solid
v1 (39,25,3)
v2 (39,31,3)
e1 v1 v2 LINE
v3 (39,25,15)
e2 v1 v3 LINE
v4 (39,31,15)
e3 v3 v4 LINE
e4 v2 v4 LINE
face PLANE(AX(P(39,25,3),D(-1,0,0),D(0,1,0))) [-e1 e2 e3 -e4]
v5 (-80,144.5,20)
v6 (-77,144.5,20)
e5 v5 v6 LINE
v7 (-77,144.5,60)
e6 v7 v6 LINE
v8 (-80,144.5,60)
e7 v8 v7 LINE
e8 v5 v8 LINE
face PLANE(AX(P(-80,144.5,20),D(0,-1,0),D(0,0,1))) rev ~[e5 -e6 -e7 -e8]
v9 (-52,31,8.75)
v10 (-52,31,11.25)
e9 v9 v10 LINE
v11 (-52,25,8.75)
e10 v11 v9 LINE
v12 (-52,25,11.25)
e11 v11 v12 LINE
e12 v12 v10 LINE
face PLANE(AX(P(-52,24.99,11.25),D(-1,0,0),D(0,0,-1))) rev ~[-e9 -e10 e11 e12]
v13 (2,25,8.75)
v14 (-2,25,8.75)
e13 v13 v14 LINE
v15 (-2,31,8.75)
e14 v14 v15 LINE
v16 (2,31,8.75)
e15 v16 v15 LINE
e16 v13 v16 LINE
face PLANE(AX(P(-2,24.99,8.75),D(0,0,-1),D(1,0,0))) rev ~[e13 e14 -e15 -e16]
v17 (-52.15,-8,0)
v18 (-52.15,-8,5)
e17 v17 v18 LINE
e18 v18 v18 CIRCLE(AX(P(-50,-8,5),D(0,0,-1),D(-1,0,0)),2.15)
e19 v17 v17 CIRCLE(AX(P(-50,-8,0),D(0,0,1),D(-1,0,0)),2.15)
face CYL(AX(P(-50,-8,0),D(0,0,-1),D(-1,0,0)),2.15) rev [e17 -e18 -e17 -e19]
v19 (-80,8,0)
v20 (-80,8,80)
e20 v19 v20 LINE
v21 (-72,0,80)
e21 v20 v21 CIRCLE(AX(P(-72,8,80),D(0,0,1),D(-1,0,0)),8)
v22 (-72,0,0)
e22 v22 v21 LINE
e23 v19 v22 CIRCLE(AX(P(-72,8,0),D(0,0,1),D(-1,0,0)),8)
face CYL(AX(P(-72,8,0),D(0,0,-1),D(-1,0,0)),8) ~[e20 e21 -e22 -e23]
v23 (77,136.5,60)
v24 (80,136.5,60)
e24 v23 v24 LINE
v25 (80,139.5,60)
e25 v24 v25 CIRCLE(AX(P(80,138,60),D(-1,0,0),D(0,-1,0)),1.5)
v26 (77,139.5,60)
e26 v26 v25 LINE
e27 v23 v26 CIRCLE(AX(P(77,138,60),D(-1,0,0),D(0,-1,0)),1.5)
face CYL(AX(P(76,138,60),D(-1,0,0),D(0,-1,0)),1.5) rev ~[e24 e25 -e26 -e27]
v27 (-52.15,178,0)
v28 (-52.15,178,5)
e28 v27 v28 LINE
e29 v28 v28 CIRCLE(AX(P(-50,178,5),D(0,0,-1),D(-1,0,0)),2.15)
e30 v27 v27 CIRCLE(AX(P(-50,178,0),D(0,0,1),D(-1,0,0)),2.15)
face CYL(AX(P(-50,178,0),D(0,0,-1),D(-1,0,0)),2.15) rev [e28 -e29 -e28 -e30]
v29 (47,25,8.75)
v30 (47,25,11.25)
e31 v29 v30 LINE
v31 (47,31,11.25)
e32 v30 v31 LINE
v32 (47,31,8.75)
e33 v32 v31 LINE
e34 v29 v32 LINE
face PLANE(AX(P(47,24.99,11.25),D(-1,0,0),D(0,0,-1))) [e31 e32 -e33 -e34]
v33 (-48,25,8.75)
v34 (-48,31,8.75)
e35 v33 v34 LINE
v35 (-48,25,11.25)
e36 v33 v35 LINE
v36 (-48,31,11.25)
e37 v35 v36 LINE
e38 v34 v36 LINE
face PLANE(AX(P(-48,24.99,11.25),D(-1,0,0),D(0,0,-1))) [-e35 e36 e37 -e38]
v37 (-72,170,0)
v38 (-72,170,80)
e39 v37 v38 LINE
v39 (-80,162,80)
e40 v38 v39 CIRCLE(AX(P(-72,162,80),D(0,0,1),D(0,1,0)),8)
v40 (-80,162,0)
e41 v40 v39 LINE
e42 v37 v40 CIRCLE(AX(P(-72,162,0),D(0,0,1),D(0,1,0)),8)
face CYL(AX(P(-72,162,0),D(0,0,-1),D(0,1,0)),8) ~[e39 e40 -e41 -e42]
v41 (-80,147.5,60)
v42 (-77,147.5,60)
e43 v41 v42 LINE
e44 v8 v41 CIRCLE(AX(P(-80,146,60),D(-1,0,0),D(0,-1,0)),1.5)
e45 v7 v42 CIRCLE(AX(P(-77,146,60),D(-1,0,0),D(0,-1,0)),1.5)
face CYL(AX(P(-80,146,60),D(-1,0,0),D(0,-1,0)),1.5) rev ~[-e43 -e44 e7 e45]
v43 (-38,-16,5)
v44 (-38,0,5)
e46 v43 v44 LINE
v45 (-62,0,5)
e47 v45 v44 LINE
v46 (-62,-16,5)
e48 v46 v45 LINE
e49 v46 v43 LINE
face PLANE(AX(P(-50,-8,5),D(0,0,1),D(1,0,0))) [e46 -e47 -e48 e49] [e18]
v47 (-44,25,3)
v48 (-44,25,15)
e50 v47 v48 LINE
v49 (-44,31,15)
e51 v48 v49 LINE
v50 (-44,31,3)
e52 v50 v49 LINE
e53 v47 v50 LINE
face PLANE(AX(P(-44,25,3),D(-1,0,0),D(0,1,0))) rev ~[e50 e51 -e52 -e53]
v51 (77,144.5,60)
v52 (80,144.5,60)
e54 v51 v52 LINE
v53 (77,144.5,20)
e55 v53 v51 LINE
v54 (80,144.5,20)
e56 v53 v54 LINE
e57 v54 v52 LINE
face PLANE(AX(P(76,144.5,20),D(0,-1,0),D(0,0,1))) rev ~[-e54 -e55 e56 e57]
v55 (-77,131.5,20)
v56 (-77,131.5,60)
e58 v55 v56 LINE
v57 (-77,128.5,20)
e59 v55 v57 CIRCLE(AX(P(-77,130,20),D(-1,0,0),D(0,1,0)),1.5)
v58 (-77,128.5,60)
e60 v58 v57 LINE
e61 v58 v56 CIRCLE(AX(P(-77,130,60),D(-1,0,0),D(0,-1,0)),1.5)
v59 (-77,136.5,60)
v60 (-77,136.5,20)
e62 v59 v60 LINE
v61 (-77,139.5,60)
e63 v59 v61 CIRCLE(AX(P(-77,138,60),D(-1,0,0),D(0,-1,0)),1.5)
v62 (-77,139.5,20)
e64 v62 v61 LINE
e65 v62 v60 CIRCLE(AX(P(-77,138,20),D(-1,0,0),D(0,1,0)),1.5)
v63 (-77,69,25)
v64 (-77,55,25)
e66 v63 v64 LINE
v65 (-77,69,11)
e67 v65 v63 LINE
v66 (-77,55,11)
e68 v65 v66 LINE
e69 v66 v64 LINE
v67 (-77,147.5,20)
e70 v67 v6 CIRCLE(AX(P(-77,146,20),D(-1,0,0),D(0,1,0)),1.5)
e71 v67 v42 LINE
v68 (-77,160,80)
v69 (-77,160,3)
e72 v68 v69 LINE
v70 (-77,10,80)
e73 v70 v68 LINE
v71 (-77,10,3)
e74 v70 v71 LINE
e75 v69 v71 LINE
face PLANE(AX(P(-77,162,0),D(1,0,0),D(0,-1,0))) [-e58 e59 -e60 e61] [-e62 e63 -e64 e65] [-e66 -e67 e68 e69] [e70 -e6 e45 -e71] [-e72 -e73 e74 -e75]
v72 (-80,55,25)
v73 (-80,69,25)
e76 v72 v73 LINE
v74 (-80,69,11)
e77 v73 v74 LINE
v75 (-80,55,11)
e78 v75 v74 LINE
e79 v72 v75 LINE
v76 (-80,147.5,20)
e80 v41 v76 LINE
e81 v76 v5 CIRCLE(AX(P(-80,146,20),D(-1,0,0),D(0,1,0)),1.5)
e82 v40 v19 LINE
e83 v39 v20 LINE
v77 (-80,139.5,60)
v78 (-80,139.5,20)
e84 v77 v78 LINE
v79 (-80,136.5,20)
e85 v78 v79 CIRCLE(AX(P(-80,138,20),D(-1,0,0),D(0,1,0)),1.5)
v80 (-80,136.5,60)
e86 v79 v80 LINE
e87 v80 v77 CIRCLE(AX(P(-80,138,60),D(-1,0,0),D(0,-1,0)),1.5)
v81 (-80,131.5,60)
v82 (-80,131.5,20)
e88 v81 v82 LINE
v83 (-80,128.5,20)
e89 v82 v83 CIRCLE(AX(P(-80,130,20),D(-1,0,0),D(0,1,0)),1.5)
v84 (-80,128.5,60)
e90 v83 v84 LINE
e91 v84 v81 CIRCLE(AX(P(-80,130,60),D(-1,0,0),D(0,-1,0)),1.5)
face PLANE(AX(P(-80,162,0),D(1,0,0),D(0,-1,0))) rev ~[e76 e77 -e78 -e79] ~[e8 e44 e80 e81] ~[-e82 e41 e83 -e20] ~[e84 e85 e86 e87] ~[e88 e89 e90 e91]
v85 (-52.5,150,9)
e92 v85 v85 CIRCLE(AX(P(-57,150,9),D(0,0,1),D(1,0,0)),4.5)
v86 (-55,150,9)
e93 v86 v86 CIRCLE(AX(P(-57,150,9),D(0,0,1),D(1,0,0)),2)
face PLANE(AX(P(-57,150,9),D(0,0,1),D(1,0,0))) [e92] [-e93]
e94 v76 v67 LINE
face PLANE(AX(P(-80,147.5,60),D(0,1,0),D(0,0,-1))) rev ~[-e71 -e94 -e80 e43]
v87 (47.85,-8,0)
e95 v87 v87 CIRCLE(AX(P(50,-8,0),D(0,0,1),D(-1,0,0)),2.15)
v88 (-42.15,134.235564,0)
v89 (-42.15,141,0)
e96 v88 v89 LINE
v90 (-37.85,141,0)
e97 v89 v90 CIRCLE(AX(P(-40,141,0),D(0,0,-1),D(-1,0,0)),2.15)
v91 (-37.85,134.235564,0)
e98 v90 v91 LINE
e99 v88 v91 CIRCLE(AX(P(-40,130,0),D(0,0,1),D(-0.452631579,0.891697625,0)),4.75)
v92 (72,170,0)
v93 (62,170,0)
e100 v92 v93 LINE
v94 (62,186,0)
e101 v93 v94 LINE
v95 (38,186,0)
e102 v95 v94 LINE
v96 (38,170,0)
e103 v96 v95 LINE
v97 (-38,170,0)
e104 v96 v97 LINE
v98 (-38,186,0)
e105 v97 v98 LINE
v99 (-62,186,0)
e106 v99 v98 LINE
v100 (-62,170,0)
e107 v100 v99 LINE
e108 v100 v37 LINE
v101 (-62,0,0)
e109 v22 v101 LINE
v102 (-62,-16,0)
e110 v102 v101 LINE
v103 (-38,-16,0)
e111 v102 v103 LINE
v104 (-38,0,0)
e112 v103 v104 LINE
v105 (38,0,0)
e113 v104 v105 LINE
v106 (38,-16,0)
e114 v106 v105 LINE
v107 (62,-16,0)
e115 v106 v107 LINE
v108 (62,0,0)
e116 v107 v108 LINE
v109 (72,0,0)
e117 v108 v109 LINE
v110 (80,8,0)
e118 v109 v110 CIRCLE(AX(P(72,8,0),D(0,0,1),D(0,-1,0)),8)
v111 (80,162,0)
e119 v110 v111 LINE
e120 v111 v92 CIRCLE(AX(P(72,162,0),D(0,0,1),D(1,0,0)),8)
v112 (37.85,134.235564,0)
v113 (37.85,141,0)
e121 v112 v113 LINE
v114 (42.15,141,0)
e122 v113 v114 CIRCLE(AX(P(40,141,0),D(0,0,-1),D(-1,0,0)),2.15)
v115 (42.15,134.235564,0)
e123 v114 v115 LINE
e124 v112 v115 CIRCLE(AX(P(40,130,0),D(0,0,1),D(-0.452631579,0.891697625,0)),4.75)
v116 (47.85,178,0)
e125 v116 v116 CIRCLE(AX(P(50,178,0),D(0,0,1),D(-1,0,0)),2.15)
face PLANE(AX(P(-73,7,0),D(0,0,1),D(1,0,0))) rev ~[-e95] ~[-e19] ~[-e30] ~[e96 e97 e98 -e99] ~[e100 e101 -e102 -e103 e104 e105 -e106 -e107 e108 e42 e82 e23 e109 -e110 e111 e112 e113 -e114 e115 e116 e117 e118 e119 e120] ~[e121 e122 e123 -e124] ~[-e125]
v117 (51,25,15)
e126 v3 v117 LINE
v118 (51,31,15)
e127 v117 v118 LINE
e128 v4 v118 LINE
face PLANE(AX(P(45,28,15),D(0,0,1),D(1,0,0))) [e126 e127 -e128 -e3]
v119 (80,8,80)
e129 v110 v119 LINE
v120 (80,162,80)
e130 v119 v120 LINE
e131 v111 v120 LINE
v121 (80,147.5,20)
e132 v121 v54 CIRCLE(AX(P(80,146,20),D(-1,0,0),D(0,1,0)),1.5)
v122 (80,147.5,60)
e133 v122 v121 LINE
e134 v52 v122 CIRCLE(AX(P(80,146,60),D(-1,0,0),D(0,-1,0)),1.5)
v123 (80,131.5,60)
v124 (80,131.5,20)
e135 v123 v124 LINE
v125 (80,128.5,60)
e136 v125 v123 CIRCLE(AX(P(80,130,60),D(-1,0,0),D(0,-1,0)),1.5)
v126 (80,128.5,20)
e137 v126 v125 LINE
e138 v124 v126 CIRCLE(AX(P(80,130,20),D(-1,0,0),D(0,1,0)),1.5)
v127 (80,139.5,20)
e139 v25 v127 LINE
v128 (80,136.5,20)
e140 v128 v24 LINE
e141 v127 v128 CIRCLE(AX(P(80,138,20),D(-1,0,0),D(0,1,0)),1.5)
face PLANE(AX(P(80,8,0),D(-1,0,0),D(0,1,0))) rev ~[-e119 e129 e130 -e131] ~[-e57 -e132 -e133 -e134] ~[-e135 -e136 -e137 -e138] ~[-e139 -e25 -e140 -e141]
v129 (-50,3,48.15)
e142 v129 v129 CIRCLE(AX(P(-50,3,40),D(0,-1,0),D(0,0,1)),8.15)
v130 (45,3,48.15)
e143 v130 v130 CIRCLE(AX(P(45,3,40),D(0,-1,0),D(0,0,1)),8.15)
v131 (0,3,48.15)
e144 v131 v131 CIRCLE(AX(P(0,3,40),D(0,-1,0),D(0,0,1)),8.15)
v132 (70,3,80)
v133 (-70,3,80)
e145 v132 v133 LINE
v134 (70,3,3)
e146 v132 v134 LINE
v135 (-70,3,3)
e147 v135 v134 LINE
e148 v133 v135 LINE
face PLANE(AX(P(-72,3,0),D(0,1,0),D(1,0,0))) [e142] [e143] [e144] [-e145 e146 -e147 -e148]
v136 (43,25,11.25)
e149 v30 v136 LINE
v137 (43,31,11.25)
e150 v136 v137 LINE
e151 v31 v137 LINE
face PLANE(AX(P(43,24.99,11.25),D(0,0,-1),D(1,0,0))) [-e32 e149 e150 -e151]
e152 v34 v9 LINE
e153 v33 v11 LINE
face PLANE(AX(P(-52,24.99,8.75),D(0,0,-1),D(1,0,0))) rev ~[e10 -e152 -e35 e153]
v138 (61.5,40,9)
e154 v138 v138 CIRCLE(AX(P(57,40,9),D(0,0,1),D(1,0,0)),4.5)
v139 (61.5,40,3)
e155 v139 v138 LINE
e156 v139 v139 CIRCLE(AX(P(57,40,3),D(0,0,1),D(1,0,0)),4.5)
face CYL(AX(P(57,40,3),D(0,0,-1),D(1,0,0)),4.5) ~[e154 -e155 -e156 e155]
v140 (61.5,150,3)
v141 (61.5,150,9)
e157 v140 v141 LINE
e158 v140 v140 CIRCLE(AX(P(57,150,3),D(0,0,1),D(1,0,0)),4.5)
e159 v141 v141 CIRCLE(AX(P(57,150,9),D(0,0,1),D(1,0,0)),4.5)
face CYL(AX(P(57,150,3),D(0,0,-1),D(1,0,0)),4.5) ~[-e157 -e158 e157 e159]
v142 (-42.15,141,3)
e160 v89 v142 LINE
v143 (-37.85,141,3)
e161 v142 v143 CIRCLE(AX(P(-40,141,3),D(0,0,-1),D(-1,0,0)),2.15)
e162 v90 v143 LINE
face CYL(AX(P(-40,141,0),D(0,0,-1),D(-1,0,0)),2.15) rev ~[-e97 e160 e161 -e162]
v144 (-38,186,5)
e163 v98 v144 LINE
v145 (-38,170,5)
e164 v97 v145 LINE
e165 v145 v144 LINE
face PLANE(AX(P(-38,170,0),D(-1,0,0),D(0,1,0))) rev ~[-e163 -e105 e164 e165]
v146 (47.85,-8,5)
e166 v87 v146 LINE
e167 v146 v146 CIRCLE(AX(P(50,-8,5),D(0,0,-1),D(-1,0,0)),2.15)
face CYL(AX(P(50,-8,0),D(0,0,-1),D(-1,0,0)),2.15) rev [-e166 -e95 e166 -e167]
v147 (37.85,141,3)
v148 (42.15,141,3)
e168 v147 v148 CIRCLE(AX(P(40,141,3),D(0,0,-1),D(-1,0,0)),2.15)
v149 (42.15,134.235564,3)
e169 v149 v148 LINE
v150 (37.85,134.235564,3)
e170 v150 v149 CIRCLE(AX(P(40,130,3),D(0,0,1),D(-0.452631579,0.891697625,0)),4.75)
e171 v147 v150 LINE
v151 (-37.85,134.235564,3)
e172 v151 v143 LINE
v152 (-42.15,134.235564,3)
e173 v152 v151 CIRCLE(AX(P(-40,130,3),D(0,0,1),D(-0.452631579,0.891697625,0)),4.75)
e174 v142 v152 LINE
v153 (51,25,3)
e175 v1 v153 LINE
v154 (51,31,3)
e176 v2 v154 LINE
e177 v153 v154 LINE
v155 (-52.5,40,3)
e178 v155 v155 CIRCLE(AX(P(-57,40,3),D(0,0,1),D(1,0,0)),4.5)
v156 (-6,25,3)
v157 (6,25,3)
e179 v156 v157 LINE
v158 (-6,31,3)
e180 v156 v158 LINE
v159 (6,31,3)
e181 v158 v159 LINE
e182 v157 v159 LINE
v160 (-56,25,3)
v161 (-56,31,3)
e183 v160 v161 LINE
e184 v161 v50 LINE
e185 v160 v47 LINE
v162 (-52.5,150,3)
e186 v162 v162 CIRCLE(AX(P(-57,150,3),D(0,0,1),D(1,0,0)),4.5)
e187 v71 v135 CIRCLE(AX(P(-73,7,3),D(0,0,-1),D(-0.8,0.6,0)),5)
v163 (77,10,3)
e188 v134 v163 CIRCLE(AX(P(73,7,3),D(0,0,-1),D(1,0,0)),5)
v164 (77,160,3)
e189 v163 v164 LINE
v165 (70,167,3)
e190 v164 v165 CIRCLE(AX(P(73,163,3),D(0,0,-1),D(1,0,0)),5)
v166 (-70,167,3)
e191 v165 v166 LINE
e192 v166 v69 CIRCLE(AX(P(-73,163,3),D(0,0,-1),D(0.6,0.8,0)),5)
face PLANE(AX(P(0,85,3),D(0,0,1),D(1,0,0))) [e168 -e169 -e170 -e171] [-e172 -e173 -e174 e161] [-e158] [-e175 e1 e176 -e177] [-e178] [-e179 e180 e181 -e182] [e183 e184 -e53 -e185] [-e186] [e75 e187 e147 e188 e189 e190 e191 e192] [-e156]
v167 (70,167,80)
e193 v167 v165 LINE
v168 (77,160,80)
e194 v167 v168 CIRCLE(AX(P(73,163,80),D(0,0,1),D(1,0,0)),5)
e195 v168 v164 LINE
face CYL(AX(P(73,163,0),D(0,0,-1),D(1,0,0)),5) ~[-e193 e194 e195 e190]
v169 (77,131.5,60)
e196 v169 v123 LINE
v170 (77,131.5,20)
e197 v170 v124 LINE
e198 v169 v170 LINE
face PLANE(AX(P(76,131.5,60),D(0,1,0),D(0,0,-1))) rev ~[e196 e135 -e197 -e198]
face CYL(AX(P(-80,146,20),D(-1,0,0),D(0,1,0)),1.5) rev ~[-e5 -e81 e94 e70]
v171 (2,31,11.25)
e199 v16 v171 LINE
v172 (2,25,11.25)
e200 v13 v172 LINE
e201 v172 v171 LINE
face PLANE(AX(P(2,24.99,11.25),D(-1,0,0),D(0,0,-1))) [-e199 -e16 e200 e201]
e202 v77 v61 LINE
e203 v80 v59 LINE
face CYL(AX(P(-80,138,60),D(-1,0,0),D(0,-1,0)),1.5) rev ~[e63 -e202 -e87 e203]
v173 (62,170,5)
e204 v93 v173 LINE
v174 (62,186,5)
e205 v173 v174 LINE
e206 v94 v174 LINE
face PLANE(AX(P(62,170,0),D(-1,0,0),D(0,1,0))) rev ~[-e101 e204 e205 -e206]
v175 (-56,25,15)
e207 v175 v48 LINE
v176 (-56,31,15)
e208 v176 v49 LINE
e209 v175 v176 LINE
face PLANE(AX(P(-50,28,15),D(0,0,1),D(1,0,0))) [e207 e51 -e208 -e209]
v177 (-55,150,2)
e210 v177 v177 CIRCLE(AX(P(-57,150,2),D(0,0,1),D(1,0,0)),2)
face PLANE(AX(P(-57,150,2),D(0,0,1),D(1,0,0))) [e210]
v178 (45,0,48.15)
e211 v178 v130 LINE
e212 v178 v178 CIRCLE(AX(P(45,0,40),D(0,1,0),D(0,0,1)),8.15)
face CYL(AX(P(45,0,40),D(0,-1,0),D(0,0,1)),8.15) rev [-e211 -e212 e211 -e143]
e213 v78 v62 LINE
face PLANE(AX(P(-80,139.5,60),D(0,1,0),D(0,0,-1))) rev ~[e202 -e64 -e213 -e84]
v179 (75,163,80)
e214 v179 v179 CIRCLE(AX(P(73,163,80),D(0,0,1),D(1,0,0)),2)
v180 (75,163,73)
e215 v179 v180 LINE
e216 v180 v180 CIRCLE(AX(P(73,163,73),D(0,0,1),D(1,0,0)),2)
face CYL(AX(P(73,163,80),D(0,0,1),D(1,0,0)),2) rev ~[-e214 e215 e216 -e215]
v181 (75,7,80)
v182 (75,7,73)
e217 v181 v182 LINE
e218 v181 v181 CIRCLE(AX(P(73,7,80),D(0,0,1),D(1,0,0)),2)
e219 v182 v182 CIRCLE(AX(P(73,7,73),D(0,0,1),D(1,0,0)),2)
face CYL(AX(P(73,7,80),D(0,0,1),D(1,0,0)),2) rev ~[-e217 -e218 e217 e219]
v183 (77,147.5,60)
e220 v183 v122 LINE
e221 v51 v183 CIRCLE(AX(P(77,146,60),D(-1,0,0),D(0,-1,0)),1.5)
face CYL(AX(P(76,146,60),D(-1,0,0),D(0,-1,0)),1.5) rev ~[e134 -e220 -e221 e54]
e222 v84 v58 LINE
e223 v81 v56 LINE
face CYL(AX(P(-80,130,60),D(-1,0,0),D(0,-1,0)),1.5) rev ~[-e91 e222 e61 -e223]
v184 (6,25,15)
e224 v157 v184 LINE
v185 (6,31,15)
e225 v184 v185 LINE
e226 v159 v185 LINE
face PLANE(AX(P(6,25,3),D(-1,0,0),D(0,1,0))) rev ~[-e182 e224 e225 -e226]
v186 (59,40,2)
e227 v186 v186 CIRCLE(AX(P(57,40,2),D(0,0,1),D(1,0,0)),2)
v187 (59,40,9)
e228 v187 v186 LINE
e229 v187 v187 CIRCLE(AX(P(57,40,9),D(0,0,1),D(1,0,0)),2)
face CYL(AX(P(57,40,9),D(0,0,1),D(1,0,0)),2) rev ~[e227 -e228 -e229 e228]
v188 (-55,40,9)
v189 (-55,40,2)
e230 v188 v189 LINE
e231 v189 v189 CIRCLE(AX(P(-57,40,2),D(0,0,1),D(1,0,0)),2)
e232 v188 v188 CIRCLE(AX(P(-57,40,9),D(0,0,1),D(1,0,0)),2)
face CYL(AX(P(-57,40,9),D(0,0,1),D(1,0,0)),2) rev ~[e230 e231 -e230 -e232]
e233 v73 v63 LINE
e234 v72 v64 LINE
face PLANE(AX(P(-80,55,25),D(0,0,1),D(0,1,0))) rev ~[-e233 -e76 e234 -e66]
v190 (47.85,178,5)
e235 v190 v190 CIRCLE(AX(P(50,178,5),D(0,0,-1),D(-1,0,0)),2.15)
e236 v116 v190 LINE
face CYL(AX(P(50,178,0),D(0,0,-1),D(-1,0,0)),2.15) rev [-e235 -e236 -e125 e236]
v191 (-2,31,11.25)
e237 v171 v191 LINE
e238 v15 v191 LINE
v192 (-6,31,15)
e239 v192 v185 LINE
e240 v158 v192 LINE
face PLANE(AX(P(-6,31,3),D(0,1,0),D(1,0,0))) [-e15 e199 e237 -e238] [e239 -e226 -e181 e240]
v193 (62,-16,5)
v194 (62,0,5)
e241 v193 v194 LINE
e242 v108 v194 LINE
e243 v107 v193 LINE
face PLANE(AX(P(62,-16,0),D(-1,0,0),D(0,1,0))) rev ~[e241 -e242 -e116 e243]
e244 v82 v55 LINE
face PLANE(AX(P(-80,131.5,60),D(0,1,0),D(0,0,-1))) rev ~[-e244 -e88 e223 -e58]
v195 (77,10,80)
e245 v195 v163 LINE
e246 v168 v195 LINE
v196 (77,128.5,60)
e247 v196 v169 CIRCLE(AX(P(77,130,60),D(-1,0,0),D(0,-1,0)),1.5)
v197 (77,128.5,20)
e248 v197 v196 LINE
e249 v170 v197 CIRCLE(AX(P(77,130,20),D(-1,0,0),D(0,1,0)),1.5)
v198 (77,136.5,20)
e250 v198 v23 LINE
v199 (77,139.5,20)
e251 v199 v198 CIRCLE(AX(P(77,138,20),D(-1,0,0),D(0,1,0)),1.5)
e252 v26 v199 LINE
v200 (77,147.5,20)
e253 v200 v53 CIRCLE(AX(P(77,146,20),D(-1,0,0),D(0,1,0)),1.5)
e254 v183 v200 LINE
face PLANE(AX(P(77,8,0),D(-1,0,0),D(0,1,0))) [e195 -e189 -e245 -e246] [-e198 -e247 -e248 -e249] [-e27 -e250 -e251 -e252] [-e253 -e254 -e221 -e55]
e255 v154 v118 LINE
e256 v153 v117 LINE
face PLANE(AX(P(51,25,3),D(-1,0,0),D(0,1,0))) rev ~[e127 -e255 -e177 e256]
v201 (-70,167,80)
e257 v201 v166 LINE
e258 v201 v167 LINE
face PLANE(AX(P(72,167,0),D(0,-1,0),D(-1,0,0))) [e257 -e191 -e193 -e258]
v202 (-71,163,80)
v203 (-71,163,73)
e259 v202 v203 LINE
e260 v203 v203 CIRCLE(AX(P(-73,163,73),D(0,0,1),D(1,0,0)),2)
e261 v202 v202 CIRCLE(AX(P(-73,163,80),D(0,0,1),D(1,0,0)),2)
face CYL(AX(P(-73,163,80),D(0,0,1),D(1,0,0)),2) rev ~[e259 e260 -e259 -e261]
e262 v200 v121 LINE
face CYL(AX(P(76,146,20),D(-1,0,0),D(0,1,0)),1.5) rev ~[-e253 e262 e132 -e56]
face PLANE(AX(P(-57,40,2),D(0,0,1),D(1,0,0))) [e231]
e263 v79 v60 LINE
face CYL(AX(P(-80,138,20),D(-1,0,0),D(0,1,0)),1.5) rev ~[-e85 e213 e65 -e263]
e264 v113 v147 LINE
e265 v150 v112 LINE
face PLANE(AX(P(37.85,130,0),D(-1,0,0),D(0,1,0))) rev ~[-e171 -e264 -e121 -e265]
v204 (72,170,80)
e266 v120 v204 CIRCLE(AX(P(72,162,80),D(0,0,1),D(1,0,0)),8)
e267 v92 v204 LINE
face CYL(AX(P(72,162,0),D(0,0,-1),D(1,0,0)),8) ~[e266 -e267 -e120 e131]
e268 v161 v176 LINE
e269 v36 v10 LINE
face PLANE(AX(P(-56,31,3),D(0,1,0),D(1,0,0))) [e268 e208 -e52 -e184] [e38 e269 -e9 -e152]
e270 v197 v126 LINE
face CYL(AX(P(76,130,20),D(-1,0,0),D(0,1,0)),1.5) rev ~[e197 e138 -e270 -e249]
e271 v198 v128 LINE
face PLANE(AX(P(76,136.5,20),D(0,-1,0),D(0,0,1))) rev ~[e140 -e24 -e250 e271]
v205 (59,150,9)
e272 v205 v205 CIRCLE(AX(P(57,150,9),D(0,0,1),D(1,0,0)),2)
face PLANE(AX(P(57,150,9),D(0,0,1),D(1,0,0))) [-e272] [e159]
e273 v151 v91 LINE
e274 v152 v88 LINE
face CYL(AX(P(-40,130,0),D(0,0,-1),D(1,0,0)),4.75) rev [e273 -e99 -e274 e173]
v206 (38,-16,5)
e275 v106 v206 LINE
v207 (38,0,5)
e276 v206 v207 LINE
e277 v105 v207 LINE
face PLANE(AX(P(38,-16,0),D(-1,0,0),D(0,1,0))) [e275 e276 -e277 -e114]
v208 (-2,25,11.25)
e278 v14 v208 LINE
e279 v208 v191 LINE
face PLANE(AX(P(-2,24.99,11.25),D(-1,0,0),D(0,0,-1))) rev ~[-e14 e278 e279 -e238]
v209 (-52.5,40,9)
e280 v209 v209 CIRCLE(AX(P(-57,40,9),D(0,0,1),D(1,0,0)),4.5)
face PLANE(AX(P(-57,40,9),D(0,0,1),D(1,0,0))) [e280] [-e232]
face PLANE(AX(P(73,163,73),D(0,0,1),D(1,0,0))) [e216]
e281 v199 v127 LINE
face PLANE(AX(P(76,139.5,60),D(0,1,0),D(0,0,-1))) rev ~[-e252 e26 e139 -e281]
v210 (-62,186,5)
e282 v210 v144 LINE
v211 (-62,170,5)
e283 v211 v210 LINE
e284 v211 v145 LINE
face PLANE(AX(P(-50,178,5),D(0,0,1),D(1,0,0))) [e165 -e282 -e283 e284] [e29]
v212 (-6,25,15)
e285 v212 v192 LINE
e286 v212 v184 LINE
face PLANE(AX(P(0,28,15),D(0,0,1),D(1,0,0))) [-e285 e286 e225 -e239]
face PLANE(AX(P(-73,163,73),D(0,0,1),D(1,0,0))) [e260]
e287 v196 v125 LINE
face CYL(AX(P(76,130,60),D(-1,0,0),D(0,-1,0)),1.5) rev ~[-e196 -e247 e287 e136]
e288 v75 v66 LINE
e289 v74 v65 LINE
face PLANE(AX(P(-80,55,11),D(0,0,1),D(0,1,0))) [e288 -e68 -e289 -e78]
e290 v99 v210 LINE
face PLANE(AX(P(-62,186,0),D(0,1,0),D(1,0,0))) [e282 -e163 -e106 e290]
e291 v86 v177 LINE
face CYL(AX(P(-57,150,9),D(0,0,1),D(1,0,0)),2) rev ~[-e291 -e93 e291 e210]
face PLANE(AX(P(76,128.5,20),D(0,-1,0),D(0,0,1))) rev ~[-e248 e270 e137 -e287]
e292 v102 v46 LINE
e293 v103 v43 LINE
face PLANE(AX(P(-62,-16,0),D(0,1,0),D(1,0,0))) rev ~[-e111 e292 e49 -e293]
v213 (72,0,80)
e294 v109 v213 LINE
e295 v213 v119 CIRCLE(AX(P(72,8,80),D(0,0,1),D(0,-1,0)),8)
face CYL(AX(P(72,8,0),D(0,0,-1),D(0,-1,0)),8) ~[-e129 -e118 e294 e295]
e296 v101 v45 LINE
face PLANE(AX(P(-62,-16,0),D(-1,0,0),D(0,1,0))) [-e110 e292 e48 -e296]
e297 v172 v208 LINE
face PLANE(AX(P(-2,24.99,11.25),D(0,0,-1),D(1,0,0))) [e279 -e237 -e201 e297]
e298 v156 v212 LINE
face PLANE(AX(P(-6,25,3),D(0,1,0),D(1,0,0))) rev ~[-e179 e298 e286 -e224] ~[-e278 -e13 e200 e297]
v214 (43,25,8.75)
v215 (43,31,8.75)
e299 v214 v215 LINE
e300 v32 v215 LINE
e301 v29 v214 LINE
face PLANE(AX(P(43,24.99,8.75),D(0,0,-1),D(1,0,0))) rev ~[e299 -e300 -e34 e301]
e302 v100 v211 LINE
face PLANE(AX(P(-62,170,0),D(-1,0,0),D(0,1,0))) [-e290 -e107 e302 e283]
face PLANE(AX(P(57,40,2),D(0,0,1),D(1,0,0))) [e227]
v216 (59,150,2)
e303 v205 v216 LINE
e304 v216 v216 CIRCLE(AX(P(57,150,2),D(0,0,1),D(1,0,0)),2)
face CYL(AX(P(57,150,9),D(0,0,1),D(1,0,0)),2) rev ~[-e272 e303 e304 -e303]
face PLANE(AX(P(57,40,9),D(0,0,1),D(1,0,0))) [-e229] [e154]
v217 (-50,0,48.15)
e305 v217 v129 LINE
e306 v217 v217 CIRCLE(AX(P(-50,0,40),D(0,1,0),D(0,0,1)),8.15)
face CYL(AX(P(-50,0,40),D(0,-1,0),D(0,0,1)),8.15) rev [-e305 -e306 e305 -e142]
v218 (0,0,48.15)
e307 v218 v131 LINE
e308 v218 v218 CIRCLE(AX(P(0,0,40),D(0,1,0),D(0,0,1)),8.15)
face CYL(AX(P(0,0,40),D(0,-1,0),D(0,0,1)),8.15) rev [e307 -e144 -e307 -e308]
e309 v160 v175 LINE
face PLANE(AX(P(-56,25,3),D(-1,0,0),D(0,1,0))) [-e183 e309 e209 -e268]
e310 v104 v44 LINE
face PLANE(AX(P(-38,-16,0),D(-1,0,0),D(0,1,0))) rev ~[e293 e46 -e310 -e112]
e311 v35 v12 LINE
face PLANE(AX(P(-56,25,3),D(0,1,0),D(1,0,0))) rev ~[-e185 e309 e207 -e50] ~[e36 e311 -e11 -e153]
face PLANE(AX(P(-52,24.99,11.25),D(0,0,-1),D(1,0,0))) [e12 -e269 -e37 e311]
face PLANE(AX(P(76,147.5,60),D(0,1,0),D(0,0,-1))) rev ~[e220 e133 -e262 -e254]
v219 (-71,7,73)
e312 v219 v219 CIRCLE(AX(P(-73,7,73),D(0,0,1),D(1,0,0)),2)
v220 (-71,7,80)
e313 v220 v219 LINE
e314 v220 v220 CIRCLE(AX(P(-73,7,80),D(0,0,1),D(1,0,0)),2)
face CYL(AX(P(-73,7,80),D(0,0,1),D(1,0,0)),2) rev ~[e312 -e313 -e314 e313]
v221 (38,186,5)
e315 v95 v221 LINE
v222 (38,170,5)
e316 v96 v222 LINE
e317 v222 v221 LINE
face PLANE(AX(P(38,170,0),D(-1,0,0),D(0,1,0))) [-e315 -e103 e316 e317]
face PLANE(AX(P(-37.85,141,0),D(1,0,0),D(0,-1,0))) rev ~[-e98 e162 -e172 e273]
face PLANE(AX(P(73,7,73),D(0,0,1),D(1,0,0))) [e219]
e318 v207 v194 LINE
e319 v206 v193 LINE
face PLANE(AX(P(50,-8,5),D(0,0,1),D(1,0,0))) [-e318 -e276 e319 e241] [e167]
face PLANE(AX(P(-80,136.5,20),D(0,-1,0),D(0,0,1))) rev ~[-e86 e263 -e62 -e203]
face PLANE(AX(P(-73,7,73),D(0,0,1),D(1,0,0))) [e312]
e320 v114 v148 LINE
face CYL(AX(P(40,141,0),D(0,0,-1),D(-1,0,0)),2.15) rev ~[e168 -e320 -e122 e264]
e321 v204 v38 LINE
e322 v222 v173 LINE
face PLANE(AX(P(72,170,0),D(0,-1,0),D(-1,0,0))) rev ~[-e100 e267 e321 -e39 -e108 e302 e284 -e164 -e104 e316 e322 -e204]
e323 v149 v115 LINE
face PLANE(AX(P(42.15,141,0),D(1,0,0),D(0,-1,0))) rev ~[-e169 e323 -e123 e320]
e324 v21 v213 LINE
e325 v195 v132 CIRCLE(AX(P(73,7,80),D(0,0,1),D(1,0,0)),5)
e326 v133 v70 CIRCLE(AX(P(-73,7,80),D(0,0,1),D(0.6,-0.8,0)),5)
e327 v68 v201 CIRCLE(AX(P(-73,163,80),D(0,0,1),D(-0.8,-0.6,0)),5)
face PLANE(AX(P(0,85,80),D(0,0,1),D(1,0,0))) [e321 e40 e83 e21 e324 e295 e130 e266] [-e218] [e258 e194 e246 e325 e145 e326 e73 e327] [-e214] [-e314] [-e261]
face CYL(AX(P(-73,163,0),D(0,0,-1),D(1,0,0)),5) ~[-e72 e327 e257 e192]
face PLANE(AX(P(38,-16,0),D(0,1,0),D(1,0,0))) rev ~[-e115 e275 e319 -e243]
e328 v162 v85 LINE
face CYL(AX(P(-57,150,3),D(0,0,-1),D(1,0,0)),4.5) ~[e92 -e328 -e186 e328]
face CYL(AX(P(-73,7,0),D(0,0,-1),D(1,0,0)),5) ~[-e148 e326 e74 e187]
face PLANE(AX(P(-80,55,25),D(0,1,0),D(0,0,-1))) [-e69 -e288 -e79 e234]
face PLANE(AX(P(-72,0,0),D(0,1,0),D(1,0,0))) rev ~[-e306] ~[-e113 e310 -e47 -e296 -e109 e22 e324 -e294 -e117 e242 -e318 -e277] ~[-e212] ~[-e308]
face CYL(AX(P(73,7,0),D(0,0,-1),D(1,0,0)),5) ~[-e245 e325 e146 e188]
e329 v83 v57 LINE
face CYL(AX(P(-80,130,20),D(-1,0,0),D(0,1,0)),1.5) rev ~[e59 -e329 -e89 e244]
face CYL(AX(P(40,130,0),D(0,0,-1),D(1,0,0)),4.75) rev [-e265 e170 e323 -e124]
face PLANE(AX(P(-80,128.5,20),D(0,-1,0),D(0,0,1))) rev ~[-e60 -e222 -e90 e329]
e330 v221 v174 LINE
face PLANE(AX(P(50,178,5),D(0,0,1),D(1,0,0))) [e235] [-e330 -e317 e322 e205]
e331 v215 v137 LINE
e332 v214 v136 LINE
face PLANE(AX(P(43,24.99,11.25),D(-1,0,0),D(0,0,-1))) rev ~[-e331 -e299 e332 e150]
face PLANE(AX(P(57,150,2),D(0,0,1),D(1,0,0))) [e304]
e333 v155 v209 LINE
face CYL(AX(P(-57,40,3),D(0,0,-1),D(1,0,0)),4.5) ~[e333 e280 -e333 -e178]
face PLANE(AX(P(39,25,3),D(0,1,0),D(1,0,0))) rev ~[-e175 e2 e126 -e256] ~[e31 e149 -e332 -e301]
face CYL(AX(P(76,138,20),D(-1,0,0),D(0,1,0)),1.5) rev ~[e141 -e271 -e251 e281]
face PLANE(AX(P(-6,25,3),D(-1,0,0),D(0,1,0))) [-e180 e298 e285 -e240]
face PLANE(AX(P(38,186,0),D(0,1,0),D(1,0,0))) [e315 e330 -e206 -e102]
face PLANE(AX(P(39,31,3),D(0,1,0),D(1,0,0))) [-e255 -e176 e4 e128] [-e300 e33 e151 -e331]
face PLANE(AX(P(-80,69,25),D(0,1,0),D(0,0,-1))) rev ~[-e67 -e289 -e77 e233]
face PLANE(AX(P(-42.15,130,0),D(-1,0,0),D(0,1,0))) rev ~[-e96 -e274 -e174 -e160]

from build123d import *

# Parameters (mm, degrees)
BLOCK_DEPTH                    = 80
SHELL1_T                       = -3
SKETCH2_R                      = 5
CORNER_COLUMNS_DEPTH           = 80
SKETCH3_R                      = 2
FRONT_PANEL_INSERT_HOLES_DEPTH = 7
SKETCH4_R                      = 4.5
PLATE_BOSSES_DEPTH             = 6
SKETCH5_R                      = 2
PLATE_INSERT_HOLES_DEPTH       = 7
SKETCH6_R                      = 8.15
CABLE_GLAND_HOLES_DEPTH        = 4
SKETCH7_W                      = 12
SKETCH7_H                      = 6
CABLE_TIE_BARS_DEPTH           = 12
SKETCH8_W                      = 4
SKETCH8_H                      = 2.5
CABLE_TIE_SLOTS_DEPTH          = 6.02
SKETCH9_W                      = 14
SKETCH9_H                      = 14
USB_ACCESS_DEPTH               = 4
VENTS_LEFT_DEPTH               = 4
VENTS_START                    = -4
VENTS_RIGHT_DEPTH              = 4
SKETCH12_R                     = 4.75
KEYHOLE_HEADS_DEPTH            = 4
KEYHOLE_SLOTS_DEPTH            = 4
SKETCH14_W                     = 24
SKETCH14_H                     = 16
WALL_EARS_DEPTH                = 5
SKETCH15_R                     = 2.15
WALL_EAR_SCREW_HOLES_DEPTH     = 218.706224073


with BuildPart() as part:
    # Sketch1 → Block (new body)
    with BuildSketch(Plane.XY):
        with BuildLine():
            Line((-72, 0), (72, 0))
            ThreePointArc((72, 0), (77.656854249, 2.343145751), (80, 8))
            Line((80, 8), (80, 162))
            ThreePointArc((80, 162), (77.656854249, 167.656854249), (72, 170))
            Line((72, 170), (-72, 170))
            ThreePointArc((-72, 170), (-77.656854249, 167.656854249), (-80, 162))
            Line((-80, 162), (-80, 8))
            ThreePointArc((-80, 8), (-77.656854249, 2.343145751), (-72, 0))
        make_face()
    extrude(amount=BLOCK_DEPTH)

    # Shell1
    shell1_openings = [part.faces().sort_by_distance(p)[0] for p in [
        (0, 85, 80),
    ]]
    offset(amount=SHELL1_T, openings=shell1_openings, kind=Kind.INTERSECTION)

    # Sketch2 → Corner columns (add)
    with BuildSketch(Plane.XY):
        with Locations((-73, 7)):
            Circle(SKETCH2_R)
        with Locations((73, 7)):
            Circle(SKETCH2_R)
        with Locations((-73, 163)):
            Circle(SKETCH2_R)
        with Locations((73, 163)):
            Circle(SKETCH2_R)
    extrude(amount=CORNER_COLUMNS_DEPTH)

    # Sketch3 → Front panel insert holes (cut)
    with BuildSketch(Plane.XY.offset(80)):
        with Locations((-73, 7)):
            Circle(SKETCH3_R)
        with Locations((73, 7)):
            Circle(SKETCH3_R)
        with Locations((-73, 163)):
            Circle(SKETCH3_R)
        with Locations((73, 163)):
            Circle(SKETCH3_R)
    extrude(amount=-FRONT_PANEL_INSERT_HOLES_DEPTH, mode=Mode.SUBTRACT)

    # Sketch4 → Plate bosses (add)
    with BuildSketch(Plane.XY.offset(3)):
        with Locations((-57, 40)):
            Circle(SKETCH4_R)
        with Locations((57, 40)):
            Circle(SKETCH4_R)
        with Locations((-57, 150)):
            Circle(SKETCH4_R)
        with Locations((57, 150)):
            Circle(SKETCH4_R)
    extrude(amount=PLATE_BOSSES_DEPTH)

    # Sketch5 → Plate insert holes (cut)
    with BuildSketch(Plane.XY.offset(9)):
        with Locations((-57, 40)):
            Circle(SKETCH5_R)
        with Locations((57, 40)):
            Circle(SKETCH5_R)
        with Locations((-57, 150)):
            Circle(SKETCH5_R)
        with Locations((57, 150)):
            Circle(SKETCH5_R)
    extrude(amount=-PLATE_INSERT_HOLES_DEPTH, mode=Mode.SUBTRACT)

    # Sketch6 → Cable gland holes (cut)
    with BuildSketch(Plane(origin=(0, 0, 0), x_dir=(1, 0, 0), z_dir=(0, 1, 0))):
        with Locations(Location((-50, -40, 0), (0, 0, 270))):
            Circle(SKETCH6_R)
        with Locations(Location((0, -40, 0), (0, 0, 270))):
            Circle(SKETCH6_R)
        with Locations(Location((45, -40, 0), (0, 0, 270))):
            Circle(SKETCH6_R)
    extrude(amount=CABLE_GLAND_HOLES_DEPTH, mode=Mode.SUBTRACT)

    # Sketch7 → Cable tie bars (add)
    with BuildSketch(Plane.XY.offset(3)):
        with Locations((-50, 28)):
            Rectangle(SKETCH7_W, SKETCH7_H)
        with Locations((0, 28)):
            Rectangle(SKETCH7_W, SKETCH7_H)
        with Locations((45, 28)):
            Rectangle(SKETCH7_W, SKETCH7_H)
    extrude(amount=CABLE_TIE_BARS_DEPTH)

    # Sketch8 → Cable tie slots (cut)
    with BuildSketch(Plane(origin=(0, 24.99, 0), x_dir=(1, 0, 0), z_dir=(0, 1, 0))):
        with Locations((-50, -10)):
            Rectangle(SKETCH8_W, SKETCH8_H)
        with Locations((0, -10)):
            Rectangle(SKETCH8_W, SKETCH8_H)
        with Locations((45, -10)):
            Rectangle(SKETCH8_W, SKETCH8_H)
    extrude(amount=CABLE_TIE_SLOTS_DEPTH, mode=Mode.SUBTRACT)

    # Sketch9 → USB access (cut)
    with BuildSketch(Plane(origin=(-80, 0, 0), x_dir=(0, 0, -1), z_dir=(1, 0, 0))):
        with Locations((-18, 62)):
            Rectangle(SKETCH9_W, SKETCH9_H)
    extrude(amount=USB_ACCESS_DEPTH, mode=Mode.SUBTRACT)

    # Sketch10 → Vents left (cut)
    with BuildSketch(Plane(origin=(-80, 0, 0), x_dir=(0, 0, -1), z_dir=(1, 0, 0))):
        with BuildLine():
            Line((-20, 128.5), (-60, 128.5))
            ThreePointArc((-60, 128.5), (-61.5, 130), (-60, 131.5))
            Line((-60, 131.5), (-20, 131.5))
            ThreePointArc((-20, 131.5), (-18.5, 130), (-20, 128.5))
        make_face()
        with BuildLine():
            Line((-20, 136.5), (-60, 136.5))
            ThreePointArc((-60, 136.5), (-61.5, 138), (-60, 139.5))
            Line((-60, 139.5), (-20, 139.5))
            ThreePointArc((-20, 139.5), (-18.5, 138), (-20, 136.5))
        make_face()
        with BuildLine():
            Line((-20, 144.5), (-60, 144.5))
            ThreePointArc((-60, 144.5), (-61.5, 146), (-60, 147.5))
            Line((-60, 147.5), (-20, 147.5))
            ThreePointArc((-20, 147.5), (-18.5, 146), (-20, 144.5))
        make_face()
    extrude(amount=VENTS_LEFT_DEPTH, mode=Mode.SUBTRACT)

    # Sketch11 → Vents right (cut)
    with BuildSketch(Plane(origin=(80, 0, 0), x_dir=(0, 0, -1), z_dir=(1, 0, 0)).offset(VENTS_START)):
        with BuildLine():
            Line((-20, 128.5), (-60, 128.5))
            ThreePointArc((-60, 128.5), (-61.5, 130), (-60, 131.5))
            Line((-60, 131.5), (-20, 131.5))
            ThreePointArc((-20, 131.5), (-18.5, 130), (-20, 128.5))
        make_face()
        with BuildLine():
            Line((-20, 136.5), (-60, 136.5))
            ThreePointArc((-60, 136.5), (-61.5, 138), (-60, 139.5))
            Line((-60, 139.5), (-20, 139.5))
            ThreePointArc((-20, 139.5), (-18.5, 138), (-20, 136.5))
        make_face()
        with BuildLine():
            Line((-20, 144.5), (-60, 144.5))
            ThreePointArc((-60, 144.5), (-61.5, 146), (-60, 147.5))
            Line((-60, 147.5), (-20, 147.5))
            ThreePointArc((-20, 147.5), (-18.5, 146), (-20, 144.5))
        make_face()
    extrude(amount=VENTS_RIGHT_DEPTH, mode=Mode.SUBTRACT)

    # Sketch12 → Keyhole heads (cut)
    with BuildSketch(Plane.XY):
        with Locations((-40, 130)):
            Circle(SKETCH12_R)
        with Locations((40, 130)):
            Circle(SKETCH12_R)
    extrude(amount=KEYHOLE_HEADS_DEPTH, mode=Mode.SUBTRACT)

    # Sketch13 → Keyhole slots (cut)
    with BuildSketch(Plane.XY):
        with BuildLine():
            Line((-42.15, 130), (-42.15, 141))
            ThreePointArc((-42.15, 141), (-40, 143.15), (-37.85, 141))
            Line((-37.85, 141), (-37.85, 130))
            ThreePointArc((-37.85, 130), (-40, 127.85), (-42.15, 130))
        make_face()
        with BuildLine():
            Line((37.85, 130), (37.85, 141))
            ThreePointArc((37.85, 141), (40, 143.15), (42.15, 141))
            Line((42.15, 141), (42.15, 130))
            ThreePointArc((42.15, 130), (40, 127.85), (37.85, 130))
        make_face()
    extrude(amount=KEYHOLE_SLOTS_DEPTH, mode=Mode.SUBTRACT)

    # Sketch14 → Wall ears (add)
    with BuildSketch(Plane.XY):
        with Locations((-50, -8)):
            Rectangle(SKETCH14_W, SKETCH14_H)
        with Locations((-50, 178)):
            Rectangle(SKETCH14_W, SKETCH14_H)
        with Locations((50, -8)):
            Rectangle(SKETCH14_W, SKETCH14_H)
        with Locations((50, 178)):
            Rectangle(SKETCH14_W, SKETCH14_H)
    extrude(amount=WALL_EARS_DEPTH)

    # Sketch15 → Wall ear screw holes (cut, through all)
    with BuildSketch(Plane.XY):
        with Locations(Location((-50, -8, 0), (0, 0, 180))):
            Circle(SKETCH15_R)
        with Locations(Location((-50, 178, 0), (0, 0, 180))):
            Circle(SKETCH15_R)
        with Locations(Location((50, -8, 0), (0, 0, 180))):
            Circle(SKETCH15_R)
        with Locations(Location((50, 178, 0), (0, 0, 180))):
            Circle(SKETCH15_R)
    extrude(amount=WALL_EAR_SCREW_HOLES_DEPTH, mode=Mode.SUBTRACT)


solid = part.part
